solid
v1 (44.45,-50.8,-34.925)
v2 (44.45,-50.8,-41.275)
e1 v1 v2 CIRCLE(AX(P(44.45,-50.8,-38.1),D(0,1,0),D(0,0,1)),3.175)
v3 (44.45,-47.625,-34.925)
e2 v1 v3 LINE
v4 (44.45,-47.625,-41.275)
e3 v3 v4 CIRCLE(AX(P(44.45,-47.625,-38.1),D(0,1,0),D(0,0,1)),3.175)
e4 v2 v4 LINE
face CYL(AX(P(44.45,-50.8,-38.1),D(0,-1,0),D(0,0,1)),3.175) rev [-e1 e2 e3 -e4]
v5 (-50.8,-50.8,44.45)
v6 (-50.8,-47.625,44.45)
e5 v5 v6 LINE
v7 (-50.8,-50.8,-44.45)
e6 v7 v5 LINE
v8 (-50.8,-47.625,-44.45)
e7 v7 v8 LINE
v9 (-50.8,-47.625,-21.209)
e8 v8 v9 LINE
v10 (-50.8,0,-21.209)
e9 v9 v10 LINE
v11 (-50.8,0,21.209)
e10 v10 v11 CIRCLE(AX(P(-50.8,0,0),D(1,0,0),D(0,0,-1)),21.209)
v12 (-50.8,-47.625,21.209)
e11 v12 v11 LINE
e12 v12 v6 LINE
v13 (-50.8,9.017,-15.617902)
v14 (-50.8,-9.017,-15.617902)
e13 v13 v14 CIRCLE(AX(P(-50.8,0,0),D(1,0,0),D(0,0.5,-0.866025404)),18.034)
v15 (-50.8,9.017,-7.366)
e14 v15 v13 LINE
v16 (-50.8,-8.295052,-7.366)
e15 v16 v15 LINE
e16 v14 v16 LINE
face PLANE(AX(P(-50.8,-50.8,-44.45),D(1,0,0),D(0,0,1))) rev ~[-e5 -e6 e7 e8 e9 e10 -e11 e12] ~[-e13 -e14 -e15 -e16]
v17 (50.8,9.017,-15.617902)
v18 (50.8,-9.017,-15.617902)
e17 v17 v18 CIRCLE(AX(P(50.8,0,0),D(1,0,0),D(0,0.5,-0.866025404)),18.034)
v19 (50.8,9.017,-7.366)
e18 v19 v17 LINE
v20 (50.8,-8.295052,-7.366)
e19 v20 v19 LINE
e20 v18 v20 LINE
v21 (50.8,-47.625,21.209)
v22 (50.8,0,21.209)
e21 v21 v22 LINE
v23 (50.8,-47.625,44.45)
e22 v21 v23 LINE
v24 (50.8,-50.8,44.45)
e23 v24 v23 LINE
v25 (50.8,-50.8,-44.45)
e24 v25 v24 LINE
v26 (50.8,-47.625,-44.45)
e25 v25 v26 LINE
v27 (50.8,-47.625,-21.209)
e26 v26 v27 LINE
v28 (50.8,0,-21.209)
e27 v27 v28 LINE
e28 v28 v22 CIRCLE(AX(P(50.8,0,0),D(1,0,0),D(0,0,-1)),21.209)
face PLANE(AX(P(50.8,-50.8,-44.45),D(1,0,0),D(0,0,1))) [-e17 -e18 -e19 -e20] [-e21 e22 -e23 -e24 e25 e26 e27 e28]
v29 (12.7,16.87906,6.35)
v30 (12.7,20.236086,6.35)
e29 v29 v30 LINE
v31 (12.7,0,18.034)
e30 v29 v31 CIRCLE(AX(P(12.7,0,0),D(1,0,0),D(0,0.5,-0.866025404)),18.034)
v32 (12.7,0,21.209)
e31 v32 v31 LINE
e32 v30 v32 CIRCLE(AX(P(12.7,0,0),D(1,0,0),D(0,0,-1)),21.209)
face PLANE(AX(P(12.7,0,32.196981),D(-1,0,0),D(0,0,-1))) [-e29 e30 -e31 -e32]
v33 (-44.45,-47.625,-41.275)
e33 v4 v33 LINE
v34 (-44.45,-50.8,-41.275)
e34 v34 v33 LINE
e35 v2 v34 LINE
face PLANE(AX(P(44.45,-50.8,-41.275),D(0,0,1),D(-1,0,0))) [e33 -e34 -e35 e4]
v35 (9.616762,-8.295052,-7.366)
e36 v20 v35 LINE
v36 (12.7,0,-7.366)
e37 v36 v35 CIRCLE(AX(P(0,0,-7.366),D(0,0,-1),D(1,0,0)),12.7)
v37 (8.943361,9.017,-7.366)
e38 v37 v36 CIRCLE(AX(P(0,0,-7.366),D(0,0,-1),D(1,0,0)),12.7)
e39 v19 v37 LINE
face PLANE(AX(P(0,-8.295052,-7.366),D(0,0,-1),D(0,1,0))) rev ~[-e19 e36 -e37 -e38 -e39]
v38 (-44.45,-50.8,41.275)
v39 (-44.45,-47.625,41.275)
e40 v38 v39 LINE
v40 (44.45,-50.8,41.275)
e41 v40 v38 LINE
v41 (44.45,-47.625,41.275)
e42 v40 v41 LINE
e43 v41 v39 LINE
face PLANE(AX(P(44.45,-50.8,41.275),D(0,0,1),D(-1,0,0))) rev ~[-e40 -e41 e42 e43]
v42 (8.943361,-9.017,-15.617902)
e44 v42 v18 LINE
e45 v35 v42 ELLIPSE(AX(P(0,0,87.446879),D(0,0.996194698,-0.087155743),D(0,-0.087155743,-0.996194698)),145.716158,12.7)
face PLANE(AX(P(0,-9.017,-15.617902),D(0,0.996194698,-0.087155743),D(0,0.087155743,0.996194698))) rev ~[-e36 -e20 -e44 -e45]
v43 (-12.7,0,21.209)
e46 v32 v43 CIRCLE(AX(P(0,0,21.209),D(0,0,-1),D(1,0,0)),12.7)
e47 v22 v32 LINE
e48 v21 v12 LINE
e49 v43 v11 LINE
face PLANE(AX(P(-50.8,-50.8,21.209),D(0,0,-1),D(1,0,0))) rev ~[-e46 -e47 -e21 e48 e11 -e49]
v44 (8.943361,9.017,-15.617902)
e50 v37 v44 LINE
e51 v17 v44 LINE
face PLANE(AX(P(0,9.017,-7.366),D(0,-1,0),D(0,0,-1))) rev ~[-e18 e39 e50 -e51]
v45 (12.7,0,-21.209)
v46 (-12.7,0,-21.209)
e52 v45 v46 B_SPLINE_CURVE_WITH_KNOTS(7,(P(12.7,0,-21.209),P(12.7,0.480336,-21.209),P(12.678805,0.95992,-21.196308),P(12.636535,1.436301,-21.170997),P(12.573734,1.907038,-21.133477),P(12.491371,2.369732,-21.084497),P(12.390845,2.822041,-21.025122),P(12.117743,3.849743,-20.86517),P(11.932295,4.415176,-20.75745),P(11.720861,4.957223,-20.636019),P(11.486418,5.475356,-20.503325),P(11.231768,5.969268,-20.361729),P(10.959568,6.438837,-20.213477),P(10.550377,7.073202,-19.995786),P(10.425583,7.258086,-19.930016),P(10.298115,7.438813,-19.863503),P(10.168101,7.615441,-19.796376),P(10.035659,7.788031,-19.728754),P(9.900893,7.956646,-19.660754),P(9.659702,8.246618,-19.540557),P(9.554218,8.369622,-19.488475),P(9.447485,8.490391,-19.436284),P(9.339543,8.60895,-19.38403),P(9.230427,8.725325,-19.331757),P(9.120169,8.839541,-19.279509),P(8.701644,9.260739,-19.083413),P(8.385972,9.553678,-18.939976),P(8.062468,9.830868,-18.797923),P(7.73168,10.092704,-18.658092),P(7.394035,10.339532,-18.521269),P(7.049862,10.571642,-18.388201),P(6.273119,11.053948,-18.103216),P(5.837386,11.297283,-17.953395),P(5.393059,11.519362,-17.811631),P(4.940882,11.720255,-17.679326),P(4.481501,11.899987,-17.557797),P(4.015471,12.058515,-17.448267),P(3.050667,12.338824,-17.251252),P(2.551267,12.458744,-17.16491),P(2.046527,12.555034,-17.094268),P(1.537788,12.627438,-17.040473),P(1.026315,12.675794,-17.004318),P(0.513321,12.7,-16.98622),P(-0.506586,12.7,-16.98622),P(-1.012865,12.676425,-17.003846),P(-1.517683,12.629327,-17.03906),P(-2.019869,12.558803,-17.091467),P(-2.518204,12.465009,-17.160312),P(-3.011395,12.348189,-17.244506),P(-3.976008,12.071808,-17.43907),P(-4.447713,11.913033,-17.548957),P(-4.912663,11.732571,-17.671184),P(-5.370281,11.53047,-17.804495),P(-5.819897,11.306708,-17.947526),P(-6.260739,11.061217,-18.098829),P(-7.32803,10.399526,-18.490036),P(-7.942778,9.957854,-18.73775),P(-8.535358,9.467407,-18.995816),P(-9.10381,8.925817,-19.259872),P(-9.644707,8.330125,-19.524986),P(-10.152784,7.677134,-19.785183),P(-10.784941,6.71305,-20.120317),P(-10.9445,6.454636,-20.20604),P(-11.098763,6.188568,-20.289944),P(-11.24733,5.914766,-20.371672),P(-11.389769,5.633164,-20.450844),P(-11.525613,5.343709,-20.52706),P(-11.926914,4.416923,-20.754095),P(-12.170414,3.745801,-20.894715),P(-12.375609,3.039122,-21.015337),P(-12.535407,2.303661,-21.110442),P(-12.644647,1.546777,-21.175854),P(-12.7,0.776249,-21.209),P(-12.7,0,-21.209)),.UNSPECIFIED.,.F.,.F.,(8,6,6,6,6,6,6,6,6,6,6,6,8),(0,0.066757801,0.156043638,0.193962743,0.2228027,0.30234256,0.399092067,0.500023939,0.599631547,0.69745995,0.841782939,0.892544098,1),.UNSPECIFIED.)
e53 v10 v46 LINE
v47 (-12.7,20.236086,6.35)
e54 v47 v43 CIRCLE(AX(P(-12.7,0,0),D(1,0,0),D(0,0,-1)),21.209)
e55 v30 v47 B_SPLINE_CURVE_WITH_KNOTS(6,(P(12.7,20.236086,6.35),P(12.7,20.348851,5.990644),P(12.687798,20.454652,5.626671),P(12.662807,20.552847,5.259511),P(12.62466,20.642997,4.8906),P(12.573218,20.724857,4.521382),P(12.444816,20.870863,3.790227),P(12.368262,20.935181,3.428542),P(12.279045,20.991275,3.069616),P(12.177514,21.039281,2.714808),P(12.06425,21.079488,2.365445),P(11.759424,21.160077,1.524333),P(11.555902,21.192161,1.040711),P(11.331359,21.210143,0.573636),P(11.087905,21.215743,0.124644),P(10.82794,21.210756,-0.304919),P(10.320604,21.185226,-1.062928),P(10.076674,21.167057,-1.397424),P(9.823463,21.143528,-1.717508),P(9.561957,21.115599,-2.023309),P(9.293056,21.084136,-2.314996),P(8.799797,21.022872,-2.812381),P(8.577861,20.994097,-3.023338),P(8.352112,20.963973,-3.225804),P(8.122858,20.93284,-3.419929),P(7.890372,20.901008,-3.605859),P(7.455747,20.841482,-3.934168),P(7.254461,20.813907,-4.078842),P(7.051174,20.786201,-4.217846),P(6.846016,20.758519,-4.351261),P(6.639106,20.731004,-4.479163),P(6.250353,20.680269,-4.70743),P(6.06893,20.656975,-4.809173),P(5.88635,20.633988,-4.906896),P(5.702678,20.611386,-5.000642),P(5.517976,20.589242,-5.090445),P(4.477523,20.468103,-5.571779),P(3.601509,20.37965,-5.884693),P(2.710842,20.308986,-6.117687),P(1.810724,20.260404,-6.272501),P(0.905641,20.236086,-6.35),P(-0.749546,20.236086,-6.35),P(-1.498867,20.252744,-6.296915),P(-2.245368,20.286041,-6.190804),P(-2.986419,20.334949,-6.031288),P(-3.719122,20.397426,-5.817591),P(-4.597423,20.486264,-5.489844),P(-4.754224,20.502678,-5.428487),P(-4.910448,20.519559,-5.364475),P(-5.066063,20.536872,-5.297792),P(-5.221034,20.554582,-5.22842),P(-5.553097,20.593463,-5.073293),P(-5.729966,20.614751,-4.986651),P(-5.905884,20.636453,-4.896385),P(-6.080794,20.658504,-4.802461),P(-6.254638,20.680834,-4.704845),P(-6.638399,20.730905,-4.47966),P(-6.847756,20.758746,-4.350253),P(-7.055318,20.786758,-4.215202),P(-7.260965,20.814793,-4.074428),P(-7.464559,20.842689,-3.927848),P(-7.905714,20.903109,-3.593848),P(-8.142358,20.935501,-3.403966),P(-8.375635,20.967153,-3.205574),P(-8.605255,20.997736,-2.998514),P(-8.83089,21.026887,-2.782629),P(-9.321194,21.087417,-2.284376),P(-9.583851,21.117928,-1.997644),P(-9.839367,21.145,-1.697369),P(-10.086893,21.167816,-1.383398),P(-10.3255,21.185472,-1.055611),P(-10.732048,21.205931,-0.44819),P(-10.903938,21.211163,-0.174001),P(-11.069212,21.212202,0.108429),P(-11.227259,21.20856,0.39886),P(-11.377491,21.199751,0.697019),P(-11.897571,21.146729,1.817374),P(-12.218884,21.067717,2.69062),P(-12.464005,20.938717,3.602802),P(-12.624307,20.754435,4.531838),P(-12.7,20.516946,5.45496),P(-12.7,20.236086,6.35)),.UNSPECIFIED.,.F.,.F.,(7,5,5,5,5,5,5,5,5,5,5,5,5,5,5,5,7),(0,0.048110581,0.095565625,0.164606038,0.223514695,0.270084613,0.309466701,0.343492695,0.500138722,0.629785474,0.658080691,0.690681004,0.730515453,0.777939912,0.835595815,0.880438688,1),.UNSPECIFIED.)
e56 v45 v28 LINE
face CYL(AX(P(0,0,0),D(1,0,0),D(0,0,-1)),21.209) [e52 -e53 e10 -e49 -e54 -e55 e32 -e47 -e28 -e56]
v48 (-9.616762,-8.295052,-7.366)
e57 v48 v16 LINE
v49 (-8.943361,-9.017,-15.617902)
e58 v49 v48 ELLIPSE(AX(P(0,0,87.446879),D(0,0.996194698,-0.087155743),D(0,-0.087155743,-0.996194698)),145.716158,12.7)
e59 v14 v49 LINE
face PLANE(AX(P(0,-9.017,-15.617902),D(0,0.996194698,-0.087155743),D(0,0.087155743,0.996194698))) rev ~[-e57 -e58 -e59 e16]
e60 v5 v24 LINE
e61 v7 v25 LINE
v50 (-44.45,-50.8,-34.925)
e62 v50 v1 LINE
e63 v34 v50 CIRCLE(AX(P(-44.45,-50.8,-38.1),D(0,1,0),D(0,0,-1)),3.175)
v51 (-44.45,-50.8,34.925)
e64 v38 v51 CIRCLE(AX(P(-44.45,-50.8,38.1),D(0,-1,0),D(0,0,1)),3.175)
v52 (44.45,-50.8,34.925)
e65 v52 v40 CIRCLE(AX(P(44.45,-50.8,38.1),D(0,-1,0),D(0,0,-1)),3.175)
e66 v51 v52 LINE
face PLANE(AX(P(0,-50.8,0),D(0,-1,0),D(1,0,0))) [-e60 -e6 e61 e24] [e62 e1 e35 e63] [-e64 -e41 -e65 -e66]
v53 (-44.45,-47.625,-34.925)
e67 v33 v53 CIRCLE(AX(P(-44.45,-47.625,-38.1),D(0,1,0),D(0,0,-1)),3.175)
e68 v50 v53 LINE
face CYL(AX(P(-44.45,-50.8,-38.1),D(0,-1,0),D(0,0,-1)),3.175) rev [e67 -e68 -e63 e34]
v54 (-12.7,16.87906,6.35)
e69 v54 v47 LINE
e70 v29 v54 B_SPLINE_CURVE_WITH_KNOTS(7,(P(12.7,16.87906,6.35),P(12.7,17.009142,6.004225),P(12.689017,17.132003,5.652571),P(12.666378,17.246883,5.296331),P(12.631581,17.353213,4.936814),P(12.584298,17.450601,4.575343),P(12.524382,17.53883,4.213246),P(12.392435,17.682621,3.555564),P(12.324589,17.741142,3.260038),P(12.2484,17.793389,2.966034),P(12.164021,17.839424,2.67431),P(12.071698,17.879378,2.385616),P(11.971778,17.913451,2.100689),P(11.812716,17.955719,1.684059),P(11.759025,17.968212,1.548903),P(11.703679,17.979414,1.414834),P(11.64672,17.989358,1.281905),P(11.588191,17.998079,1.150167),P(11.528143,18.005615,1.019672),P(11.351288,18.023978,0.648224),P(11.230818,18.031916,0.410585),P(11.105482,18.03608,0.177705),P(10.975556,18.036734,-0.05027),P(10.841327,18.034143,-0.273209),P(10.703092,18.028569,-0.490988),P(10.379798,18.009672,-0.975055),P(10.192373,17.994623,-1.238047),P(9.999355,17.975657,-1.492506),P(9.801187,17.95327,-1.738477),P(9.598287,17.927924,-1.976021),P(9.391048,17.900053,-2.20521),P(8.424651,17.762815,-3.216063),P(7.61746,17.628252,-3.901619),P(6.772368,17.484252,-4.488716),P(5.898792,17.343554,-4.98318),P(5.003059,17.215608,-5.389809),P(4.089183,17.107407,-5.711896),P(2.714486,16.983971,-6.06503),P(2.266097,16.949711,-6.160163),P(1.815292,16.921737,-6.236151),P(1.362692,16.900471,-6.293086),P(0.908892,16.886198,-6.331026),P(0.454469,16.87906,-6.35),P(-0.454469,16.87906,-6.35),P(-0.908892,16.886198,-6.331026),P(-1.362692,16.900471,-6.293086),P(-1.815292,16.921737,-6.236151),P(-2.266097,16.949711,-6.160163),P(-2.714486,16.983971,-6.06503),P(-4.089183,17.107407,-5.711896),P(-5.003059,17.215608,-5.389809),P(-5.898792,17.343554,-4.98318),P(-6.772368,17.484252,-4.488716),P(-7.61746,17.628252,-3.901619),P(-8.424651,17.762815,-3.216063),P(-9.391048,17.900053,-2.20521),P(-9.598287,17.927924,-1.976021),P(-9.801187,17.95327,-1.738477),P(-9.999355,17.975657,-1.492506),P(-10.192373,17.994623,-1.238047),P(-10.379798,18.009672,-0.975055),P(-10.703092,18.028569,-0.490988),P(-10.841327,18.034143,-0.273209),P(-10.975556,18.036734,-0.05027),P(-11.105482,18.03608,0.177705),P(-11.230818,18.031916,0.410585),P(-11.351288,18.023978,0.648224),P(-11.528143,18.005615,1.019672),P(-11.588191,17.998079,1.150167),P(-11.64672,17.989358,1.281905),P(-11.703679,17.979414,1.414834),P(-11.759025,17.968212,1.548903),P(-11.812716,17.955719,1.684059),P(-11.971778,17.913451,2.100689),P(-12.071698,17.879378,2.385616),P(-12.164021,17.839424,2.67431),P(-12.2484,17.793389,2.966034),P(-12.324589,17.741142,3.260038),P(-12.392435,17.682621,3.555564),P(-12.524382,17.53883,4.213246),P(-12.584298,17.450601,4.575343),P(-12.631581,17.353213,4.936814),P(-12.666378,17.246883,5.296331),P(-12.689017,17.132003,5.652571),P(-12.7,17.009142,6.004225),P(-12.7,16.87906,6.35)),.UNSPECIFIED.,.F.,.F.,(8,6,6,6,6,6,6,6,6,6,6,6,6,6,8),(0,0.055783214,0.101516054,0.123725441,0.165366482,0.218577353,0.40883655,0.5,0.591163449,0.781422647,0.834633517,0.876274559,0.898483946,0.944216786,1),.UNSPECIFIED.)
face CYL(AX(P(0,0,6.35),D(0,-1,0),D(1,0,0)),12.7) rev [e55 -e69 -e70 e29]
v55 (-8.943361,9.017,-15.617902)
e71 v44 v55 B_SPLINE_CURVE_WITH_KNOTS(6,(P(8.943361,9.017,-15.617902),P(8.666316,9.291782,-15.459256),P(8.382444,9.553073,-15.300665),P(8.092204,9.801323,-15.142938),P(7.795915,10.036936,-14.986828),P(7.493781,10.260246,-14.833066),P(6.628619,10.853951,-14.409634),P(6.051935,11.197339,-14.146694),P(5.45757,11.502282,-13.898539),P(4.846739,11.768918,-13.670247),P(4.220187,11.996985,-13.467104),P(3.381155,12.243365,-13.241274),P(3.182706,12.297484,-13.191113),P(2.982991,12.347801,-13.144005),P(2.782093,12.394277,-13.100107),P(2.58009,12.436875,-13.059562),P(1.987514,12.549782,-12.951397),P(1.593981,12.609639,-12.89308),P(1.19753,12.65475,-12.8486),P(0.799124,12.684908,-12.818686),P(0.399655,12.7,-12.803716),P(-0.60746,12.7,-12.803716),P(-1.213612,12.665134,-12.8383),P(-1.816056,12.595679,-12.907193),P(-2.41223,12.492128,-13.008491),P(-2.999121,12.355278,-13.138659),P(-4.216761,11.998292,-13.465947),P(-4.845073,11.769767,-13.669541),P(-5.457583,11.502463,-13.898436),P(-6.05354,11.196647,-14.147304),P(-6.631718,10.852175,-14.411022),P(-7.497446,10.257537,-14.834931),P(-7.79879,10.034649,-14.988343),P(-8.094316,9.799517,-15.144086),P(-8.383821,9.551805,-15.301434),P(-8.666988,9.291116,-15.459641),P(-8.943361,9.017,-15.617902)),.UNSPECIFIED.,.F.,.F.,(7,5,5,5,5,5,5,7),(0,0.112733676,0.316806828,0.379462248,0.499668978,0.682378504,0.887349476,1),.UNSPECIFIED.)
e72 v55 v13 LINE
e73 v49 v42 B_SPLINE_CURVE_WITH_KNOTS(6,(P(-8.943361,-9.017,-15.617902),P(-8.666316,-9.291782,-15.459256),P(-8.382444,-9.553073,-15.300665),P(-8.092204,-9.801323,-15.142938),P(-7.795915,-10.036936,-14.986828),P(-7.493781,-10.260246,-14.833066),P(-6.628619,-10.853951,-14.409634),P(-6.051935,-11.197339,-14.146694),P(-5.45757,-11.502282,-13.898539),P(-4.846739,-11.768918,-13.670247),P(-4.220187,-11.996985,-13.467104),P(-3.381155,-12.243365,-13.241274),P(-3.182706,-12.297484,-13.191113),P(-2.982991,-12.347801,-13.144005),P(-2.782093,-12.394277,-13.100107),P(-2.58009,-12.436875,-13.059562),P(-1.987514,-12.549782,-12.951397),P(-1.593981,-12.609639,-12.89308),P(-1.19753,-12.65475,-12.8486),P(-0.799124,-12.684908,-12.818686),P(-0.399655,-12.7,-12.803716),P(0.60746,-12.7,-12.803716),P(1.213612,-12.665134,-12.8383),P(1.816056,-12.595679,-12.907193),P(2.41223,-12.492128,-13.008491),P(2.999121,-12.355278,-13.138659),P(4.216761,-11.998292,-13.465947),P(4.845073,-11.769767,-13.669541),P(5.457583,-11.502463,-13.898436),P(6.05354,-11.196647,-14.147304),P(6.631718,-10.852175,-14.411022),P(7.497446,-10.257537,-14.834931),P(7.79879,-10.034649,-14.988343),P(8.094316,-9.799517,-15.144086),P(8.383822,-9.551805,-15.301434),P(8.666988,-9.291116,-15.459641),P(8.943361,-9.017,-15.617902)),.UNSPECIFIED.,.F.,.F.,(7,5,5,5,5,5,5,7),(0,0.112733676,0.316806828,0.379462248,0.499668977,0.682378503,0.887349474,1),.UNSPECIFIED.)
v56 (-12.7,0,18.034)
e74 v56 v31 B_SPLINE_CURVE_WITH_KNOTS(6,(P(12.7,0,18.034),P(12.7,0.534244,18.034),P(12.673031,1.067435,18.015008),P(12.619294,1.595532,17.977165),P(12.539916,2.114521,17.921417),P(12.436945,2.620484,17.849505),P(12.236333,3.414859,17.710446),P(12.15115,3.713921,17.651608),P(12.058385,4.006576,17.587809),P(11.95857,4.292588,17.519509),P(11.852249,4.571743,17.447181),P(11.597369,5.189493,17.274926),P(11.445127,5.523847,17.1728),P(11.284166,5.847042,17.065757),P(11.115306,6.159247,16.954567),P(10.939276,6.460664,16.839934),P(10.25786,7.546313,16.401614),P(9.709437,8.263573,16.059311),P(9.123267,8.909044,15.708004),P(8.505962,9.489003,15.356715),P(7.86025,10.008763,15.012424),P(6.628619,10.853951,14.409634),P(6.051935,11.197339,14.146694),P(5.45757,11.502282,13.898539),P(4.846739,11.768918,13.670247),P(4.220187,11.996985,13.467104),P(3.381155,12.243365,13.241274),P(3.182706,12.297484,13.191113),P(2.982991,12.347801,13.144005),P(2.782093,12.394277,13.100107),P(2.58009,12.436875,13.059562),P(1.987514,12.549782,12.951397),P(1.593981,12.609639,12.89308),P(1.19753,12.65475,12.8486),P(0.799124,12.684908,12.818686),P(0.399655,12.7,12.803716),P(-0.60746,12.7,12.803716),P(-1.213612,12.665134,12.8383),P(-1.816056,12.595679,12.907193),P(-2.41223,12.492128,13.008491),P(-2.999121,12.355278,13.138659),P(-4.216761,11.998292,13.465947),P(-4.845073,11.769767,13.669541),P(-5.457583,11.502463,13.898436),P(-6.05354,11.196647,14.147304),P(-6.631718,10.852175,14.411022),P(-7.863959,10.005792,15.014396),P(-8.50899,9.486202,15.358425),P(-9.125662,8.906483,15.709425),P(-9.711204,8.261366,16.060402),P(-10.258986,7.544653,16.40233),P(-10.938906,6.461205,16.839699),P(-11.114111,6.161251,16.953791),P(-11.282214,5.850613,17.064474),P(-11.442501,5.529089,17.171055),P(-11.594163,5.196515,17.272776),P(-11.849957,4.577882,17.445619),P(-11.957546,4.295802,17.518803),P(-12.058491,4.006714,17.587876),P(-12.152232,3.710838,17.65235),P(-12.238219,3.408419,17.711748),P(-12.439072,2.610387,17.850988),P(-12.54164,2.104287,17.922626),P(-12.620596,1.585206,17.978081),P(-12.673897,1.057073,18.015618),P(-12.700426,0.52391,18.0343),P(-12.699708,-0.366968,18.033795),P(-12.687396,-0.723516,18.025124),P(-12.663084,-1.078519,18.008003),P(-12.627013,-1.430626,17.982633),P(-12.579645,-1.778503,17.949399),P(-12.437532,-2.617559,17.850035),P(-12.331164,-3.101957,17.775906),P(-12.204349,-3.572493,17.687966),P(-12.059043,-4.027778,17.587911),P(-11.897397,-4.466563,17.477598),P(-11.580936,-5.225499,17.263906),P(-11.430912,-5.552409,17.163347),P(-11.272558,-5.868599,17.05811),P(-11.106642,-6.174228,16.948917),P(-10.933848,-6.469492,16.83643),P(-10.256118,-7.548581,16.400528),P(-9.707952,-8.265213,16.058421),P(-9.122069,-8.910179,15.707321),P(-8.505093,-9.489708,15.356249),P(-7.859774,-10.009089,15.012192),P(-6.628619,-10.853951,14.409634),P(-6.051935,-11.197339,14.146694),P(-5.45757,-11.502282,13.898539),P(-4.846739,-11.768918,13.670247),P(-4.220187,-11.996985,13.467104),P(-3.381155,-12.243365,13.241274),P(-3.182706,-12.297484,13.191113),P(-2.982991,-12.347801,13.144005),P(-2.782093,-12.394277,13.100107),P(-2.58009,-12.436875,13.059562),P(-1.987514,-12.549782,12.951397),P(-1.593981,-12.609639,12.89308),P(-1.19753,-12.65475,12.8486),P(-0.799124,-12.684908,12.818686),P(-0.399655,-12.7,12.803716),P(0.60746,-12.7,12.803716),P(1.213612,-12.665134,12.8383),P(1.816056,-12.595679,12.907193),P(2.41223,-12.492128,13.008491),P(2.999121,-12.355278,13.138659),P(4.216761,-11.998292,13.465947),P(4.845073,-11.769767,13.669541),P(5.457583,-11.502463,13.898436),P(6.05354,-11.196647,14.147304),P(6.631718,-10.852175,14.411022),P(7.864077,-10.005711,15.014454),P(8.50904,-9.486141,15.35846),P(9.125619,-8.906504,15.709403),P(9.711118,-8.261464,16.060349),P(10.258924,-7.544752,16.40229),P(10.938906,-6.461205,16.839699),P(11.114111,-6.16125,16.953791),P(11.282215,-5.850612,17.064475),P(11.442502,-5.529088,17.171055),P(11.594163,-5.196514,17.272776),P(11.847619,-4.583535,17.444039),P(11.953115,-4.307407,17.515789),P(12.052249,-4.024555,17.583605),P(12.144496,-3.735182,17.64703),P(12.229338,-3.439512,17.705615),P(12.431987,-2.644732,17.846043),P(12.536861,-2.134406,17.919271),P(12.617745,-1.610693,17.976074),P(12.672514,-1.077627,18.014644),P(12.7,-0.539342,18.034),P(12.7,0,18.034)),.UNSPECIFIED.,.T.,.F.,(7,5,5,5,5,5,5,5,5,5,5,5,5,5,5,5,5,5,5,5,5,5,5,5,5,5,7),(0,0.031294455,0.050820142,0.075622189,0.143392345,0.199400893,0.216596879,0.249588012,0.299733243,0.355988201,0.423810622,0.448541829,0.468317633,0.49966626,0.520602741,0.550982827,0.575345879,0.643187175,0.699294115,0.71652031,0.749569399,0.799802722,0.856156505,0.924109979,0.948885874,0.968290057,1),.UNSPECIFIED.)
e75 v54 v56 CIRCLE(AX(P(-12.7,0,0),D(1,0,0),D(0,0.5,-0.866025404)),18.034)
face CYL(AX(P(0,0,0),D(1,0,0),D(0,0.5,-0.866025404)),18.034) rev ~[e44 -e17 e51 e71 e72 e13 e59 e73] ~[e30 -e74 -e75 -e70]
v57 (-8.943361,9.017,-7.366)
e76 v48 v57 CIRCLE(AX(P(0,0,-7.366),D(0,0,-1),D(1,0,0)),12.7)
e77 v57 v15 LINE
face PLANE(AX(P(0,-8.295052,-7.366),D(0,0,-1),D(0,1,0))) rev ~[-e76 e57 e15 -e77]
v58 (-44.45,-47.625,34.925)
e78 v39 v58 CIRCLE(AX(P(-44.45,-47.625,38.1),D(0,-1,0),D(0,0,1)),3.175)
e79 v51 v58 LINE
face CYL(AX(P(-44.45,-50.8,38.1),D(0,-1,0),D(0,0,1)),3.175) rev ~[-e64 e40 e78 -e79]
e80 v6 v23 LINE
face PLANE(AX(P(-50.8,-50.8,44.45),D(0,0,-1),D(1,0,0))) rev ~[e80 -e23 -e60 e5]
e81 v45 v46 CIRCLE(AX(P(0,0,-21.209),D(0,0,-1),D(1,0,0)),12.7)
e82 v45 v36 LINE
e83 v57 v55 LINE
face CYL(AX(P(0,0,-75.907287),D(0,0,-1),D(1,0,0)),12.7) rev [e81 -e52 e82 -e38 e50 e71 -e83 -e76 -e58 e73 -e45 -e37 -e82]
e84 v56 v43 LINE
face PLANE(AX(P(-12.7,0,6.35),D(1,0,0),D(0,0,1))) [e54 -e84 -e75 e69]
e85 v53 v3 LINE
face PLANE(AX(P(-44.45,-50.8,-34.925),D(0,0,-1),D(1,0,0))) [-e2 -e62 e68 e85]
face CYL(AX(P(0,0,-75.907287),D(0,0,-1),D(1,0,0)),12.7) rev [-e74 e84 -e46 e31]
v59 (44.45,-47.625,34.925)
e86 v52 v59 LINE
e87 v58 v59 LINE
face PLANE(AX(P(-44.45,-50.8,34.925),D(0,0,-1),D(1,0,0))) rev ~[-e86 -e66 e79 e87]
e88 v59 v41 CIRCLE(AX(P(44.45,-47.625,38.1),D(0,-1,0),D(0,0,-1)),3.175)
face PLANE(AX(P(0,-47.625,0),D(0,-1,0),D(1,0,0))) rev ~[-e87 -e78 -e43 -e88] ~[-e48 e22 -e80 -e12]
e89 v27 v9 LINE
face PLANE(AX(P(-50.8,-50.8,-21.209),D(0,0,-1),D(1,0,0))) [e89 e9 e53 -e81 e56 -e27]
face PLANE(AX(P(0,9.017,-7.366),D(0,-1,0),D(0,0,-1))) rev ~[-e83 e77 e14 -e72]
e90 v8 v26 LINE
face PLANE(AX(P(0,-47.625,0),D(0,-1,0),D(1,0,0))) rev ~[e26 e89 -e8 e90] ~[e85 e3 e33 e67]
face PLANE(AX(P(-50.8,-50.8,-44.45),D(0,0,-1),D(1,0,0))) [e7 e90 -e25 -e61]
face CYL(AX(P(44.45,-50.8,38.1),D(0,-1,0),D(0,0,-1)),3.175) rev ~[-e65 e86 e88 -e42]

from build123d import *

# Parameters (mm, degrees)
SKETCH1_R                = 21.209
BOSS_EXTRUDE1_DEPTH      = 50.8
CUT_EXTRUDE2_DEPTH       = 59.993926484
BOSS_EXTRUDE3_REACH      = 111.794
BOSS_EXTRUDE3_END_RADIUS = 21.209
BOSS_EXTRUDE3_START      = -50.8
SKETCH4_W                = 101.6
SKETCH4_H                = 42.418
CUT_EXTRUDE1_DEPTH       = 75.907287332
CUT_EXTRUDE1_DEPTH_BACK  = 75.907287332
SKETCH2_R                = 12.7
SKETCH5_W                = 101.6
SKETCH5_H                = 88.9
BOSS_EXTRUDE4_DEPTH      = 3.175


with BuildPart() as part:
    # Sketch1 → Boss-Extrude1 (new, symmetric)
    with BuildSketch(Plane(origin=(0, 0, 0), x_dir=(0, 0, -1), z_dir=(1, 0, 0))):
        Circle(SKETCH1_R)
        with BuildLine():
            Line((15.617902132, -9.017), (7.366, -8.295052111))
            Line((7.366, -8.295052111), (7.366, 9.017))
            Line((7.366, 9.017), (15.617902132, 9.017))
            ThreePointArc((15.617902132, 9.017), (-18.034, 0), (15.617902132, -9.017))
        make_face(mode=Mode.SUBTRACT)
    extrude(amount=BOSS_EXTRUDE1_DEPTH, both=True)

    # Sketch3 → Cut-Extrude2 (cut, through all)
    with BuildSketch(Plane(origin=(0, 0, 0), x_dir=(1, 0, 0), z_dir=(0, 1, 0))):
        with BuildLine():
            Line((-12.7, -6.35), (-12.7, -32.196981008))
            Line((-12.7, -32.196981008), (12.7, -32.196981008))
            Line((12.7, -32.196981008), (12.7, -6.35))
            ThreePointArc((12.7, -6.35), (0, 6.35), (-12.7, -6.35))
        make_face()
    extrude(amount=CUT_EXTRUDE2_DEPTH, mode=Mode.SUBTRACT)

    # Boss-Extrude3: up to this cylinder (the profile starts outside it)
    boss_extrude3_end = Plane(origin=(0, 0, 0), z_dir=(-1, 0, 0)) * Cylinder(BOSS_EXTRUDE3_END_RADIUS, 267.006, mode=Mode.PRIVATE)
    # Sketch4 → Boss-Extrude3 (add, up to the surface)
    with BuildSketch(Plane(origin=(0, 0, 0), x_dir=(1, 0, 0), z_dir=(0, 1, 0)).offset(BOSS_EXTRUDE3_START), mode=Mode.PRIVATE) as boss_extrude3_sk1:
        Rectangle(SKETCH4_W, SKETCH4_H)
    boss_extrude3_tool1 = extrude(boss_extrude3_sk1.sketch, amount=BOSS_EXTRUDE3_REACH, mode=Mode.PRIVATE) - boss_extrude3_end
    add(boss_extrude3_tool1.solids().sort_by_distance((0, -50.8, 0))[0])

    # Sketch2 → Cut-Extrude1 (cut, two sides: drawn at the far end of the back side and taken through both)
    with BuildSketch(Plane.XY.offset(-CUT_EXTRUDE1_DEPTH_BACK)):
        Circle(SKETCH2_R)
    extrude(amount=CUT_EXTRUDE1_DEPTH + CUT_EXTRUDE1_DEPTH_BACK, mode=Mode.SUBTRACT)

    # Sketch5 → Boss-Extrude4 (add)
    with BuildSketch(Plane.XZ.offset(50.8)):
        Rectangle(SKETCH5_W, SKETCH5_H)
        with BuildLine():
            Line((44.45, 41.275), (-44.45, 41.275))
            ThreePointArc((-44.45, 41.275), (-47.625, 38.1), (-44.45, 34.925))
            Line((-44.45, 34.925), (44.45, 34.925))
            ThreePointArc((44.45, 34.925), (47.625, 38.1), (44.45, 41.275))
        make_face(mode=Mode.SUBTRACT)
        with BuildLine():
            Line((44.45, -41.275), (-44.45, -41.275))
            ThreePointArc((-44.45, -41.275), (-47.625, -38.1), (-44.45, -34.925))
            Line((-44.45, -34.925), (44.45, -34.925))
            ThreePointArc((44.45, -34.925), (47.625, -38.1), (44.45, -41.275))
        make_face(mode=Mode.SUBTRACT)
    extrude(amount=-BOSS_EXTRUDE4_DEPTH)


solid = part.part
